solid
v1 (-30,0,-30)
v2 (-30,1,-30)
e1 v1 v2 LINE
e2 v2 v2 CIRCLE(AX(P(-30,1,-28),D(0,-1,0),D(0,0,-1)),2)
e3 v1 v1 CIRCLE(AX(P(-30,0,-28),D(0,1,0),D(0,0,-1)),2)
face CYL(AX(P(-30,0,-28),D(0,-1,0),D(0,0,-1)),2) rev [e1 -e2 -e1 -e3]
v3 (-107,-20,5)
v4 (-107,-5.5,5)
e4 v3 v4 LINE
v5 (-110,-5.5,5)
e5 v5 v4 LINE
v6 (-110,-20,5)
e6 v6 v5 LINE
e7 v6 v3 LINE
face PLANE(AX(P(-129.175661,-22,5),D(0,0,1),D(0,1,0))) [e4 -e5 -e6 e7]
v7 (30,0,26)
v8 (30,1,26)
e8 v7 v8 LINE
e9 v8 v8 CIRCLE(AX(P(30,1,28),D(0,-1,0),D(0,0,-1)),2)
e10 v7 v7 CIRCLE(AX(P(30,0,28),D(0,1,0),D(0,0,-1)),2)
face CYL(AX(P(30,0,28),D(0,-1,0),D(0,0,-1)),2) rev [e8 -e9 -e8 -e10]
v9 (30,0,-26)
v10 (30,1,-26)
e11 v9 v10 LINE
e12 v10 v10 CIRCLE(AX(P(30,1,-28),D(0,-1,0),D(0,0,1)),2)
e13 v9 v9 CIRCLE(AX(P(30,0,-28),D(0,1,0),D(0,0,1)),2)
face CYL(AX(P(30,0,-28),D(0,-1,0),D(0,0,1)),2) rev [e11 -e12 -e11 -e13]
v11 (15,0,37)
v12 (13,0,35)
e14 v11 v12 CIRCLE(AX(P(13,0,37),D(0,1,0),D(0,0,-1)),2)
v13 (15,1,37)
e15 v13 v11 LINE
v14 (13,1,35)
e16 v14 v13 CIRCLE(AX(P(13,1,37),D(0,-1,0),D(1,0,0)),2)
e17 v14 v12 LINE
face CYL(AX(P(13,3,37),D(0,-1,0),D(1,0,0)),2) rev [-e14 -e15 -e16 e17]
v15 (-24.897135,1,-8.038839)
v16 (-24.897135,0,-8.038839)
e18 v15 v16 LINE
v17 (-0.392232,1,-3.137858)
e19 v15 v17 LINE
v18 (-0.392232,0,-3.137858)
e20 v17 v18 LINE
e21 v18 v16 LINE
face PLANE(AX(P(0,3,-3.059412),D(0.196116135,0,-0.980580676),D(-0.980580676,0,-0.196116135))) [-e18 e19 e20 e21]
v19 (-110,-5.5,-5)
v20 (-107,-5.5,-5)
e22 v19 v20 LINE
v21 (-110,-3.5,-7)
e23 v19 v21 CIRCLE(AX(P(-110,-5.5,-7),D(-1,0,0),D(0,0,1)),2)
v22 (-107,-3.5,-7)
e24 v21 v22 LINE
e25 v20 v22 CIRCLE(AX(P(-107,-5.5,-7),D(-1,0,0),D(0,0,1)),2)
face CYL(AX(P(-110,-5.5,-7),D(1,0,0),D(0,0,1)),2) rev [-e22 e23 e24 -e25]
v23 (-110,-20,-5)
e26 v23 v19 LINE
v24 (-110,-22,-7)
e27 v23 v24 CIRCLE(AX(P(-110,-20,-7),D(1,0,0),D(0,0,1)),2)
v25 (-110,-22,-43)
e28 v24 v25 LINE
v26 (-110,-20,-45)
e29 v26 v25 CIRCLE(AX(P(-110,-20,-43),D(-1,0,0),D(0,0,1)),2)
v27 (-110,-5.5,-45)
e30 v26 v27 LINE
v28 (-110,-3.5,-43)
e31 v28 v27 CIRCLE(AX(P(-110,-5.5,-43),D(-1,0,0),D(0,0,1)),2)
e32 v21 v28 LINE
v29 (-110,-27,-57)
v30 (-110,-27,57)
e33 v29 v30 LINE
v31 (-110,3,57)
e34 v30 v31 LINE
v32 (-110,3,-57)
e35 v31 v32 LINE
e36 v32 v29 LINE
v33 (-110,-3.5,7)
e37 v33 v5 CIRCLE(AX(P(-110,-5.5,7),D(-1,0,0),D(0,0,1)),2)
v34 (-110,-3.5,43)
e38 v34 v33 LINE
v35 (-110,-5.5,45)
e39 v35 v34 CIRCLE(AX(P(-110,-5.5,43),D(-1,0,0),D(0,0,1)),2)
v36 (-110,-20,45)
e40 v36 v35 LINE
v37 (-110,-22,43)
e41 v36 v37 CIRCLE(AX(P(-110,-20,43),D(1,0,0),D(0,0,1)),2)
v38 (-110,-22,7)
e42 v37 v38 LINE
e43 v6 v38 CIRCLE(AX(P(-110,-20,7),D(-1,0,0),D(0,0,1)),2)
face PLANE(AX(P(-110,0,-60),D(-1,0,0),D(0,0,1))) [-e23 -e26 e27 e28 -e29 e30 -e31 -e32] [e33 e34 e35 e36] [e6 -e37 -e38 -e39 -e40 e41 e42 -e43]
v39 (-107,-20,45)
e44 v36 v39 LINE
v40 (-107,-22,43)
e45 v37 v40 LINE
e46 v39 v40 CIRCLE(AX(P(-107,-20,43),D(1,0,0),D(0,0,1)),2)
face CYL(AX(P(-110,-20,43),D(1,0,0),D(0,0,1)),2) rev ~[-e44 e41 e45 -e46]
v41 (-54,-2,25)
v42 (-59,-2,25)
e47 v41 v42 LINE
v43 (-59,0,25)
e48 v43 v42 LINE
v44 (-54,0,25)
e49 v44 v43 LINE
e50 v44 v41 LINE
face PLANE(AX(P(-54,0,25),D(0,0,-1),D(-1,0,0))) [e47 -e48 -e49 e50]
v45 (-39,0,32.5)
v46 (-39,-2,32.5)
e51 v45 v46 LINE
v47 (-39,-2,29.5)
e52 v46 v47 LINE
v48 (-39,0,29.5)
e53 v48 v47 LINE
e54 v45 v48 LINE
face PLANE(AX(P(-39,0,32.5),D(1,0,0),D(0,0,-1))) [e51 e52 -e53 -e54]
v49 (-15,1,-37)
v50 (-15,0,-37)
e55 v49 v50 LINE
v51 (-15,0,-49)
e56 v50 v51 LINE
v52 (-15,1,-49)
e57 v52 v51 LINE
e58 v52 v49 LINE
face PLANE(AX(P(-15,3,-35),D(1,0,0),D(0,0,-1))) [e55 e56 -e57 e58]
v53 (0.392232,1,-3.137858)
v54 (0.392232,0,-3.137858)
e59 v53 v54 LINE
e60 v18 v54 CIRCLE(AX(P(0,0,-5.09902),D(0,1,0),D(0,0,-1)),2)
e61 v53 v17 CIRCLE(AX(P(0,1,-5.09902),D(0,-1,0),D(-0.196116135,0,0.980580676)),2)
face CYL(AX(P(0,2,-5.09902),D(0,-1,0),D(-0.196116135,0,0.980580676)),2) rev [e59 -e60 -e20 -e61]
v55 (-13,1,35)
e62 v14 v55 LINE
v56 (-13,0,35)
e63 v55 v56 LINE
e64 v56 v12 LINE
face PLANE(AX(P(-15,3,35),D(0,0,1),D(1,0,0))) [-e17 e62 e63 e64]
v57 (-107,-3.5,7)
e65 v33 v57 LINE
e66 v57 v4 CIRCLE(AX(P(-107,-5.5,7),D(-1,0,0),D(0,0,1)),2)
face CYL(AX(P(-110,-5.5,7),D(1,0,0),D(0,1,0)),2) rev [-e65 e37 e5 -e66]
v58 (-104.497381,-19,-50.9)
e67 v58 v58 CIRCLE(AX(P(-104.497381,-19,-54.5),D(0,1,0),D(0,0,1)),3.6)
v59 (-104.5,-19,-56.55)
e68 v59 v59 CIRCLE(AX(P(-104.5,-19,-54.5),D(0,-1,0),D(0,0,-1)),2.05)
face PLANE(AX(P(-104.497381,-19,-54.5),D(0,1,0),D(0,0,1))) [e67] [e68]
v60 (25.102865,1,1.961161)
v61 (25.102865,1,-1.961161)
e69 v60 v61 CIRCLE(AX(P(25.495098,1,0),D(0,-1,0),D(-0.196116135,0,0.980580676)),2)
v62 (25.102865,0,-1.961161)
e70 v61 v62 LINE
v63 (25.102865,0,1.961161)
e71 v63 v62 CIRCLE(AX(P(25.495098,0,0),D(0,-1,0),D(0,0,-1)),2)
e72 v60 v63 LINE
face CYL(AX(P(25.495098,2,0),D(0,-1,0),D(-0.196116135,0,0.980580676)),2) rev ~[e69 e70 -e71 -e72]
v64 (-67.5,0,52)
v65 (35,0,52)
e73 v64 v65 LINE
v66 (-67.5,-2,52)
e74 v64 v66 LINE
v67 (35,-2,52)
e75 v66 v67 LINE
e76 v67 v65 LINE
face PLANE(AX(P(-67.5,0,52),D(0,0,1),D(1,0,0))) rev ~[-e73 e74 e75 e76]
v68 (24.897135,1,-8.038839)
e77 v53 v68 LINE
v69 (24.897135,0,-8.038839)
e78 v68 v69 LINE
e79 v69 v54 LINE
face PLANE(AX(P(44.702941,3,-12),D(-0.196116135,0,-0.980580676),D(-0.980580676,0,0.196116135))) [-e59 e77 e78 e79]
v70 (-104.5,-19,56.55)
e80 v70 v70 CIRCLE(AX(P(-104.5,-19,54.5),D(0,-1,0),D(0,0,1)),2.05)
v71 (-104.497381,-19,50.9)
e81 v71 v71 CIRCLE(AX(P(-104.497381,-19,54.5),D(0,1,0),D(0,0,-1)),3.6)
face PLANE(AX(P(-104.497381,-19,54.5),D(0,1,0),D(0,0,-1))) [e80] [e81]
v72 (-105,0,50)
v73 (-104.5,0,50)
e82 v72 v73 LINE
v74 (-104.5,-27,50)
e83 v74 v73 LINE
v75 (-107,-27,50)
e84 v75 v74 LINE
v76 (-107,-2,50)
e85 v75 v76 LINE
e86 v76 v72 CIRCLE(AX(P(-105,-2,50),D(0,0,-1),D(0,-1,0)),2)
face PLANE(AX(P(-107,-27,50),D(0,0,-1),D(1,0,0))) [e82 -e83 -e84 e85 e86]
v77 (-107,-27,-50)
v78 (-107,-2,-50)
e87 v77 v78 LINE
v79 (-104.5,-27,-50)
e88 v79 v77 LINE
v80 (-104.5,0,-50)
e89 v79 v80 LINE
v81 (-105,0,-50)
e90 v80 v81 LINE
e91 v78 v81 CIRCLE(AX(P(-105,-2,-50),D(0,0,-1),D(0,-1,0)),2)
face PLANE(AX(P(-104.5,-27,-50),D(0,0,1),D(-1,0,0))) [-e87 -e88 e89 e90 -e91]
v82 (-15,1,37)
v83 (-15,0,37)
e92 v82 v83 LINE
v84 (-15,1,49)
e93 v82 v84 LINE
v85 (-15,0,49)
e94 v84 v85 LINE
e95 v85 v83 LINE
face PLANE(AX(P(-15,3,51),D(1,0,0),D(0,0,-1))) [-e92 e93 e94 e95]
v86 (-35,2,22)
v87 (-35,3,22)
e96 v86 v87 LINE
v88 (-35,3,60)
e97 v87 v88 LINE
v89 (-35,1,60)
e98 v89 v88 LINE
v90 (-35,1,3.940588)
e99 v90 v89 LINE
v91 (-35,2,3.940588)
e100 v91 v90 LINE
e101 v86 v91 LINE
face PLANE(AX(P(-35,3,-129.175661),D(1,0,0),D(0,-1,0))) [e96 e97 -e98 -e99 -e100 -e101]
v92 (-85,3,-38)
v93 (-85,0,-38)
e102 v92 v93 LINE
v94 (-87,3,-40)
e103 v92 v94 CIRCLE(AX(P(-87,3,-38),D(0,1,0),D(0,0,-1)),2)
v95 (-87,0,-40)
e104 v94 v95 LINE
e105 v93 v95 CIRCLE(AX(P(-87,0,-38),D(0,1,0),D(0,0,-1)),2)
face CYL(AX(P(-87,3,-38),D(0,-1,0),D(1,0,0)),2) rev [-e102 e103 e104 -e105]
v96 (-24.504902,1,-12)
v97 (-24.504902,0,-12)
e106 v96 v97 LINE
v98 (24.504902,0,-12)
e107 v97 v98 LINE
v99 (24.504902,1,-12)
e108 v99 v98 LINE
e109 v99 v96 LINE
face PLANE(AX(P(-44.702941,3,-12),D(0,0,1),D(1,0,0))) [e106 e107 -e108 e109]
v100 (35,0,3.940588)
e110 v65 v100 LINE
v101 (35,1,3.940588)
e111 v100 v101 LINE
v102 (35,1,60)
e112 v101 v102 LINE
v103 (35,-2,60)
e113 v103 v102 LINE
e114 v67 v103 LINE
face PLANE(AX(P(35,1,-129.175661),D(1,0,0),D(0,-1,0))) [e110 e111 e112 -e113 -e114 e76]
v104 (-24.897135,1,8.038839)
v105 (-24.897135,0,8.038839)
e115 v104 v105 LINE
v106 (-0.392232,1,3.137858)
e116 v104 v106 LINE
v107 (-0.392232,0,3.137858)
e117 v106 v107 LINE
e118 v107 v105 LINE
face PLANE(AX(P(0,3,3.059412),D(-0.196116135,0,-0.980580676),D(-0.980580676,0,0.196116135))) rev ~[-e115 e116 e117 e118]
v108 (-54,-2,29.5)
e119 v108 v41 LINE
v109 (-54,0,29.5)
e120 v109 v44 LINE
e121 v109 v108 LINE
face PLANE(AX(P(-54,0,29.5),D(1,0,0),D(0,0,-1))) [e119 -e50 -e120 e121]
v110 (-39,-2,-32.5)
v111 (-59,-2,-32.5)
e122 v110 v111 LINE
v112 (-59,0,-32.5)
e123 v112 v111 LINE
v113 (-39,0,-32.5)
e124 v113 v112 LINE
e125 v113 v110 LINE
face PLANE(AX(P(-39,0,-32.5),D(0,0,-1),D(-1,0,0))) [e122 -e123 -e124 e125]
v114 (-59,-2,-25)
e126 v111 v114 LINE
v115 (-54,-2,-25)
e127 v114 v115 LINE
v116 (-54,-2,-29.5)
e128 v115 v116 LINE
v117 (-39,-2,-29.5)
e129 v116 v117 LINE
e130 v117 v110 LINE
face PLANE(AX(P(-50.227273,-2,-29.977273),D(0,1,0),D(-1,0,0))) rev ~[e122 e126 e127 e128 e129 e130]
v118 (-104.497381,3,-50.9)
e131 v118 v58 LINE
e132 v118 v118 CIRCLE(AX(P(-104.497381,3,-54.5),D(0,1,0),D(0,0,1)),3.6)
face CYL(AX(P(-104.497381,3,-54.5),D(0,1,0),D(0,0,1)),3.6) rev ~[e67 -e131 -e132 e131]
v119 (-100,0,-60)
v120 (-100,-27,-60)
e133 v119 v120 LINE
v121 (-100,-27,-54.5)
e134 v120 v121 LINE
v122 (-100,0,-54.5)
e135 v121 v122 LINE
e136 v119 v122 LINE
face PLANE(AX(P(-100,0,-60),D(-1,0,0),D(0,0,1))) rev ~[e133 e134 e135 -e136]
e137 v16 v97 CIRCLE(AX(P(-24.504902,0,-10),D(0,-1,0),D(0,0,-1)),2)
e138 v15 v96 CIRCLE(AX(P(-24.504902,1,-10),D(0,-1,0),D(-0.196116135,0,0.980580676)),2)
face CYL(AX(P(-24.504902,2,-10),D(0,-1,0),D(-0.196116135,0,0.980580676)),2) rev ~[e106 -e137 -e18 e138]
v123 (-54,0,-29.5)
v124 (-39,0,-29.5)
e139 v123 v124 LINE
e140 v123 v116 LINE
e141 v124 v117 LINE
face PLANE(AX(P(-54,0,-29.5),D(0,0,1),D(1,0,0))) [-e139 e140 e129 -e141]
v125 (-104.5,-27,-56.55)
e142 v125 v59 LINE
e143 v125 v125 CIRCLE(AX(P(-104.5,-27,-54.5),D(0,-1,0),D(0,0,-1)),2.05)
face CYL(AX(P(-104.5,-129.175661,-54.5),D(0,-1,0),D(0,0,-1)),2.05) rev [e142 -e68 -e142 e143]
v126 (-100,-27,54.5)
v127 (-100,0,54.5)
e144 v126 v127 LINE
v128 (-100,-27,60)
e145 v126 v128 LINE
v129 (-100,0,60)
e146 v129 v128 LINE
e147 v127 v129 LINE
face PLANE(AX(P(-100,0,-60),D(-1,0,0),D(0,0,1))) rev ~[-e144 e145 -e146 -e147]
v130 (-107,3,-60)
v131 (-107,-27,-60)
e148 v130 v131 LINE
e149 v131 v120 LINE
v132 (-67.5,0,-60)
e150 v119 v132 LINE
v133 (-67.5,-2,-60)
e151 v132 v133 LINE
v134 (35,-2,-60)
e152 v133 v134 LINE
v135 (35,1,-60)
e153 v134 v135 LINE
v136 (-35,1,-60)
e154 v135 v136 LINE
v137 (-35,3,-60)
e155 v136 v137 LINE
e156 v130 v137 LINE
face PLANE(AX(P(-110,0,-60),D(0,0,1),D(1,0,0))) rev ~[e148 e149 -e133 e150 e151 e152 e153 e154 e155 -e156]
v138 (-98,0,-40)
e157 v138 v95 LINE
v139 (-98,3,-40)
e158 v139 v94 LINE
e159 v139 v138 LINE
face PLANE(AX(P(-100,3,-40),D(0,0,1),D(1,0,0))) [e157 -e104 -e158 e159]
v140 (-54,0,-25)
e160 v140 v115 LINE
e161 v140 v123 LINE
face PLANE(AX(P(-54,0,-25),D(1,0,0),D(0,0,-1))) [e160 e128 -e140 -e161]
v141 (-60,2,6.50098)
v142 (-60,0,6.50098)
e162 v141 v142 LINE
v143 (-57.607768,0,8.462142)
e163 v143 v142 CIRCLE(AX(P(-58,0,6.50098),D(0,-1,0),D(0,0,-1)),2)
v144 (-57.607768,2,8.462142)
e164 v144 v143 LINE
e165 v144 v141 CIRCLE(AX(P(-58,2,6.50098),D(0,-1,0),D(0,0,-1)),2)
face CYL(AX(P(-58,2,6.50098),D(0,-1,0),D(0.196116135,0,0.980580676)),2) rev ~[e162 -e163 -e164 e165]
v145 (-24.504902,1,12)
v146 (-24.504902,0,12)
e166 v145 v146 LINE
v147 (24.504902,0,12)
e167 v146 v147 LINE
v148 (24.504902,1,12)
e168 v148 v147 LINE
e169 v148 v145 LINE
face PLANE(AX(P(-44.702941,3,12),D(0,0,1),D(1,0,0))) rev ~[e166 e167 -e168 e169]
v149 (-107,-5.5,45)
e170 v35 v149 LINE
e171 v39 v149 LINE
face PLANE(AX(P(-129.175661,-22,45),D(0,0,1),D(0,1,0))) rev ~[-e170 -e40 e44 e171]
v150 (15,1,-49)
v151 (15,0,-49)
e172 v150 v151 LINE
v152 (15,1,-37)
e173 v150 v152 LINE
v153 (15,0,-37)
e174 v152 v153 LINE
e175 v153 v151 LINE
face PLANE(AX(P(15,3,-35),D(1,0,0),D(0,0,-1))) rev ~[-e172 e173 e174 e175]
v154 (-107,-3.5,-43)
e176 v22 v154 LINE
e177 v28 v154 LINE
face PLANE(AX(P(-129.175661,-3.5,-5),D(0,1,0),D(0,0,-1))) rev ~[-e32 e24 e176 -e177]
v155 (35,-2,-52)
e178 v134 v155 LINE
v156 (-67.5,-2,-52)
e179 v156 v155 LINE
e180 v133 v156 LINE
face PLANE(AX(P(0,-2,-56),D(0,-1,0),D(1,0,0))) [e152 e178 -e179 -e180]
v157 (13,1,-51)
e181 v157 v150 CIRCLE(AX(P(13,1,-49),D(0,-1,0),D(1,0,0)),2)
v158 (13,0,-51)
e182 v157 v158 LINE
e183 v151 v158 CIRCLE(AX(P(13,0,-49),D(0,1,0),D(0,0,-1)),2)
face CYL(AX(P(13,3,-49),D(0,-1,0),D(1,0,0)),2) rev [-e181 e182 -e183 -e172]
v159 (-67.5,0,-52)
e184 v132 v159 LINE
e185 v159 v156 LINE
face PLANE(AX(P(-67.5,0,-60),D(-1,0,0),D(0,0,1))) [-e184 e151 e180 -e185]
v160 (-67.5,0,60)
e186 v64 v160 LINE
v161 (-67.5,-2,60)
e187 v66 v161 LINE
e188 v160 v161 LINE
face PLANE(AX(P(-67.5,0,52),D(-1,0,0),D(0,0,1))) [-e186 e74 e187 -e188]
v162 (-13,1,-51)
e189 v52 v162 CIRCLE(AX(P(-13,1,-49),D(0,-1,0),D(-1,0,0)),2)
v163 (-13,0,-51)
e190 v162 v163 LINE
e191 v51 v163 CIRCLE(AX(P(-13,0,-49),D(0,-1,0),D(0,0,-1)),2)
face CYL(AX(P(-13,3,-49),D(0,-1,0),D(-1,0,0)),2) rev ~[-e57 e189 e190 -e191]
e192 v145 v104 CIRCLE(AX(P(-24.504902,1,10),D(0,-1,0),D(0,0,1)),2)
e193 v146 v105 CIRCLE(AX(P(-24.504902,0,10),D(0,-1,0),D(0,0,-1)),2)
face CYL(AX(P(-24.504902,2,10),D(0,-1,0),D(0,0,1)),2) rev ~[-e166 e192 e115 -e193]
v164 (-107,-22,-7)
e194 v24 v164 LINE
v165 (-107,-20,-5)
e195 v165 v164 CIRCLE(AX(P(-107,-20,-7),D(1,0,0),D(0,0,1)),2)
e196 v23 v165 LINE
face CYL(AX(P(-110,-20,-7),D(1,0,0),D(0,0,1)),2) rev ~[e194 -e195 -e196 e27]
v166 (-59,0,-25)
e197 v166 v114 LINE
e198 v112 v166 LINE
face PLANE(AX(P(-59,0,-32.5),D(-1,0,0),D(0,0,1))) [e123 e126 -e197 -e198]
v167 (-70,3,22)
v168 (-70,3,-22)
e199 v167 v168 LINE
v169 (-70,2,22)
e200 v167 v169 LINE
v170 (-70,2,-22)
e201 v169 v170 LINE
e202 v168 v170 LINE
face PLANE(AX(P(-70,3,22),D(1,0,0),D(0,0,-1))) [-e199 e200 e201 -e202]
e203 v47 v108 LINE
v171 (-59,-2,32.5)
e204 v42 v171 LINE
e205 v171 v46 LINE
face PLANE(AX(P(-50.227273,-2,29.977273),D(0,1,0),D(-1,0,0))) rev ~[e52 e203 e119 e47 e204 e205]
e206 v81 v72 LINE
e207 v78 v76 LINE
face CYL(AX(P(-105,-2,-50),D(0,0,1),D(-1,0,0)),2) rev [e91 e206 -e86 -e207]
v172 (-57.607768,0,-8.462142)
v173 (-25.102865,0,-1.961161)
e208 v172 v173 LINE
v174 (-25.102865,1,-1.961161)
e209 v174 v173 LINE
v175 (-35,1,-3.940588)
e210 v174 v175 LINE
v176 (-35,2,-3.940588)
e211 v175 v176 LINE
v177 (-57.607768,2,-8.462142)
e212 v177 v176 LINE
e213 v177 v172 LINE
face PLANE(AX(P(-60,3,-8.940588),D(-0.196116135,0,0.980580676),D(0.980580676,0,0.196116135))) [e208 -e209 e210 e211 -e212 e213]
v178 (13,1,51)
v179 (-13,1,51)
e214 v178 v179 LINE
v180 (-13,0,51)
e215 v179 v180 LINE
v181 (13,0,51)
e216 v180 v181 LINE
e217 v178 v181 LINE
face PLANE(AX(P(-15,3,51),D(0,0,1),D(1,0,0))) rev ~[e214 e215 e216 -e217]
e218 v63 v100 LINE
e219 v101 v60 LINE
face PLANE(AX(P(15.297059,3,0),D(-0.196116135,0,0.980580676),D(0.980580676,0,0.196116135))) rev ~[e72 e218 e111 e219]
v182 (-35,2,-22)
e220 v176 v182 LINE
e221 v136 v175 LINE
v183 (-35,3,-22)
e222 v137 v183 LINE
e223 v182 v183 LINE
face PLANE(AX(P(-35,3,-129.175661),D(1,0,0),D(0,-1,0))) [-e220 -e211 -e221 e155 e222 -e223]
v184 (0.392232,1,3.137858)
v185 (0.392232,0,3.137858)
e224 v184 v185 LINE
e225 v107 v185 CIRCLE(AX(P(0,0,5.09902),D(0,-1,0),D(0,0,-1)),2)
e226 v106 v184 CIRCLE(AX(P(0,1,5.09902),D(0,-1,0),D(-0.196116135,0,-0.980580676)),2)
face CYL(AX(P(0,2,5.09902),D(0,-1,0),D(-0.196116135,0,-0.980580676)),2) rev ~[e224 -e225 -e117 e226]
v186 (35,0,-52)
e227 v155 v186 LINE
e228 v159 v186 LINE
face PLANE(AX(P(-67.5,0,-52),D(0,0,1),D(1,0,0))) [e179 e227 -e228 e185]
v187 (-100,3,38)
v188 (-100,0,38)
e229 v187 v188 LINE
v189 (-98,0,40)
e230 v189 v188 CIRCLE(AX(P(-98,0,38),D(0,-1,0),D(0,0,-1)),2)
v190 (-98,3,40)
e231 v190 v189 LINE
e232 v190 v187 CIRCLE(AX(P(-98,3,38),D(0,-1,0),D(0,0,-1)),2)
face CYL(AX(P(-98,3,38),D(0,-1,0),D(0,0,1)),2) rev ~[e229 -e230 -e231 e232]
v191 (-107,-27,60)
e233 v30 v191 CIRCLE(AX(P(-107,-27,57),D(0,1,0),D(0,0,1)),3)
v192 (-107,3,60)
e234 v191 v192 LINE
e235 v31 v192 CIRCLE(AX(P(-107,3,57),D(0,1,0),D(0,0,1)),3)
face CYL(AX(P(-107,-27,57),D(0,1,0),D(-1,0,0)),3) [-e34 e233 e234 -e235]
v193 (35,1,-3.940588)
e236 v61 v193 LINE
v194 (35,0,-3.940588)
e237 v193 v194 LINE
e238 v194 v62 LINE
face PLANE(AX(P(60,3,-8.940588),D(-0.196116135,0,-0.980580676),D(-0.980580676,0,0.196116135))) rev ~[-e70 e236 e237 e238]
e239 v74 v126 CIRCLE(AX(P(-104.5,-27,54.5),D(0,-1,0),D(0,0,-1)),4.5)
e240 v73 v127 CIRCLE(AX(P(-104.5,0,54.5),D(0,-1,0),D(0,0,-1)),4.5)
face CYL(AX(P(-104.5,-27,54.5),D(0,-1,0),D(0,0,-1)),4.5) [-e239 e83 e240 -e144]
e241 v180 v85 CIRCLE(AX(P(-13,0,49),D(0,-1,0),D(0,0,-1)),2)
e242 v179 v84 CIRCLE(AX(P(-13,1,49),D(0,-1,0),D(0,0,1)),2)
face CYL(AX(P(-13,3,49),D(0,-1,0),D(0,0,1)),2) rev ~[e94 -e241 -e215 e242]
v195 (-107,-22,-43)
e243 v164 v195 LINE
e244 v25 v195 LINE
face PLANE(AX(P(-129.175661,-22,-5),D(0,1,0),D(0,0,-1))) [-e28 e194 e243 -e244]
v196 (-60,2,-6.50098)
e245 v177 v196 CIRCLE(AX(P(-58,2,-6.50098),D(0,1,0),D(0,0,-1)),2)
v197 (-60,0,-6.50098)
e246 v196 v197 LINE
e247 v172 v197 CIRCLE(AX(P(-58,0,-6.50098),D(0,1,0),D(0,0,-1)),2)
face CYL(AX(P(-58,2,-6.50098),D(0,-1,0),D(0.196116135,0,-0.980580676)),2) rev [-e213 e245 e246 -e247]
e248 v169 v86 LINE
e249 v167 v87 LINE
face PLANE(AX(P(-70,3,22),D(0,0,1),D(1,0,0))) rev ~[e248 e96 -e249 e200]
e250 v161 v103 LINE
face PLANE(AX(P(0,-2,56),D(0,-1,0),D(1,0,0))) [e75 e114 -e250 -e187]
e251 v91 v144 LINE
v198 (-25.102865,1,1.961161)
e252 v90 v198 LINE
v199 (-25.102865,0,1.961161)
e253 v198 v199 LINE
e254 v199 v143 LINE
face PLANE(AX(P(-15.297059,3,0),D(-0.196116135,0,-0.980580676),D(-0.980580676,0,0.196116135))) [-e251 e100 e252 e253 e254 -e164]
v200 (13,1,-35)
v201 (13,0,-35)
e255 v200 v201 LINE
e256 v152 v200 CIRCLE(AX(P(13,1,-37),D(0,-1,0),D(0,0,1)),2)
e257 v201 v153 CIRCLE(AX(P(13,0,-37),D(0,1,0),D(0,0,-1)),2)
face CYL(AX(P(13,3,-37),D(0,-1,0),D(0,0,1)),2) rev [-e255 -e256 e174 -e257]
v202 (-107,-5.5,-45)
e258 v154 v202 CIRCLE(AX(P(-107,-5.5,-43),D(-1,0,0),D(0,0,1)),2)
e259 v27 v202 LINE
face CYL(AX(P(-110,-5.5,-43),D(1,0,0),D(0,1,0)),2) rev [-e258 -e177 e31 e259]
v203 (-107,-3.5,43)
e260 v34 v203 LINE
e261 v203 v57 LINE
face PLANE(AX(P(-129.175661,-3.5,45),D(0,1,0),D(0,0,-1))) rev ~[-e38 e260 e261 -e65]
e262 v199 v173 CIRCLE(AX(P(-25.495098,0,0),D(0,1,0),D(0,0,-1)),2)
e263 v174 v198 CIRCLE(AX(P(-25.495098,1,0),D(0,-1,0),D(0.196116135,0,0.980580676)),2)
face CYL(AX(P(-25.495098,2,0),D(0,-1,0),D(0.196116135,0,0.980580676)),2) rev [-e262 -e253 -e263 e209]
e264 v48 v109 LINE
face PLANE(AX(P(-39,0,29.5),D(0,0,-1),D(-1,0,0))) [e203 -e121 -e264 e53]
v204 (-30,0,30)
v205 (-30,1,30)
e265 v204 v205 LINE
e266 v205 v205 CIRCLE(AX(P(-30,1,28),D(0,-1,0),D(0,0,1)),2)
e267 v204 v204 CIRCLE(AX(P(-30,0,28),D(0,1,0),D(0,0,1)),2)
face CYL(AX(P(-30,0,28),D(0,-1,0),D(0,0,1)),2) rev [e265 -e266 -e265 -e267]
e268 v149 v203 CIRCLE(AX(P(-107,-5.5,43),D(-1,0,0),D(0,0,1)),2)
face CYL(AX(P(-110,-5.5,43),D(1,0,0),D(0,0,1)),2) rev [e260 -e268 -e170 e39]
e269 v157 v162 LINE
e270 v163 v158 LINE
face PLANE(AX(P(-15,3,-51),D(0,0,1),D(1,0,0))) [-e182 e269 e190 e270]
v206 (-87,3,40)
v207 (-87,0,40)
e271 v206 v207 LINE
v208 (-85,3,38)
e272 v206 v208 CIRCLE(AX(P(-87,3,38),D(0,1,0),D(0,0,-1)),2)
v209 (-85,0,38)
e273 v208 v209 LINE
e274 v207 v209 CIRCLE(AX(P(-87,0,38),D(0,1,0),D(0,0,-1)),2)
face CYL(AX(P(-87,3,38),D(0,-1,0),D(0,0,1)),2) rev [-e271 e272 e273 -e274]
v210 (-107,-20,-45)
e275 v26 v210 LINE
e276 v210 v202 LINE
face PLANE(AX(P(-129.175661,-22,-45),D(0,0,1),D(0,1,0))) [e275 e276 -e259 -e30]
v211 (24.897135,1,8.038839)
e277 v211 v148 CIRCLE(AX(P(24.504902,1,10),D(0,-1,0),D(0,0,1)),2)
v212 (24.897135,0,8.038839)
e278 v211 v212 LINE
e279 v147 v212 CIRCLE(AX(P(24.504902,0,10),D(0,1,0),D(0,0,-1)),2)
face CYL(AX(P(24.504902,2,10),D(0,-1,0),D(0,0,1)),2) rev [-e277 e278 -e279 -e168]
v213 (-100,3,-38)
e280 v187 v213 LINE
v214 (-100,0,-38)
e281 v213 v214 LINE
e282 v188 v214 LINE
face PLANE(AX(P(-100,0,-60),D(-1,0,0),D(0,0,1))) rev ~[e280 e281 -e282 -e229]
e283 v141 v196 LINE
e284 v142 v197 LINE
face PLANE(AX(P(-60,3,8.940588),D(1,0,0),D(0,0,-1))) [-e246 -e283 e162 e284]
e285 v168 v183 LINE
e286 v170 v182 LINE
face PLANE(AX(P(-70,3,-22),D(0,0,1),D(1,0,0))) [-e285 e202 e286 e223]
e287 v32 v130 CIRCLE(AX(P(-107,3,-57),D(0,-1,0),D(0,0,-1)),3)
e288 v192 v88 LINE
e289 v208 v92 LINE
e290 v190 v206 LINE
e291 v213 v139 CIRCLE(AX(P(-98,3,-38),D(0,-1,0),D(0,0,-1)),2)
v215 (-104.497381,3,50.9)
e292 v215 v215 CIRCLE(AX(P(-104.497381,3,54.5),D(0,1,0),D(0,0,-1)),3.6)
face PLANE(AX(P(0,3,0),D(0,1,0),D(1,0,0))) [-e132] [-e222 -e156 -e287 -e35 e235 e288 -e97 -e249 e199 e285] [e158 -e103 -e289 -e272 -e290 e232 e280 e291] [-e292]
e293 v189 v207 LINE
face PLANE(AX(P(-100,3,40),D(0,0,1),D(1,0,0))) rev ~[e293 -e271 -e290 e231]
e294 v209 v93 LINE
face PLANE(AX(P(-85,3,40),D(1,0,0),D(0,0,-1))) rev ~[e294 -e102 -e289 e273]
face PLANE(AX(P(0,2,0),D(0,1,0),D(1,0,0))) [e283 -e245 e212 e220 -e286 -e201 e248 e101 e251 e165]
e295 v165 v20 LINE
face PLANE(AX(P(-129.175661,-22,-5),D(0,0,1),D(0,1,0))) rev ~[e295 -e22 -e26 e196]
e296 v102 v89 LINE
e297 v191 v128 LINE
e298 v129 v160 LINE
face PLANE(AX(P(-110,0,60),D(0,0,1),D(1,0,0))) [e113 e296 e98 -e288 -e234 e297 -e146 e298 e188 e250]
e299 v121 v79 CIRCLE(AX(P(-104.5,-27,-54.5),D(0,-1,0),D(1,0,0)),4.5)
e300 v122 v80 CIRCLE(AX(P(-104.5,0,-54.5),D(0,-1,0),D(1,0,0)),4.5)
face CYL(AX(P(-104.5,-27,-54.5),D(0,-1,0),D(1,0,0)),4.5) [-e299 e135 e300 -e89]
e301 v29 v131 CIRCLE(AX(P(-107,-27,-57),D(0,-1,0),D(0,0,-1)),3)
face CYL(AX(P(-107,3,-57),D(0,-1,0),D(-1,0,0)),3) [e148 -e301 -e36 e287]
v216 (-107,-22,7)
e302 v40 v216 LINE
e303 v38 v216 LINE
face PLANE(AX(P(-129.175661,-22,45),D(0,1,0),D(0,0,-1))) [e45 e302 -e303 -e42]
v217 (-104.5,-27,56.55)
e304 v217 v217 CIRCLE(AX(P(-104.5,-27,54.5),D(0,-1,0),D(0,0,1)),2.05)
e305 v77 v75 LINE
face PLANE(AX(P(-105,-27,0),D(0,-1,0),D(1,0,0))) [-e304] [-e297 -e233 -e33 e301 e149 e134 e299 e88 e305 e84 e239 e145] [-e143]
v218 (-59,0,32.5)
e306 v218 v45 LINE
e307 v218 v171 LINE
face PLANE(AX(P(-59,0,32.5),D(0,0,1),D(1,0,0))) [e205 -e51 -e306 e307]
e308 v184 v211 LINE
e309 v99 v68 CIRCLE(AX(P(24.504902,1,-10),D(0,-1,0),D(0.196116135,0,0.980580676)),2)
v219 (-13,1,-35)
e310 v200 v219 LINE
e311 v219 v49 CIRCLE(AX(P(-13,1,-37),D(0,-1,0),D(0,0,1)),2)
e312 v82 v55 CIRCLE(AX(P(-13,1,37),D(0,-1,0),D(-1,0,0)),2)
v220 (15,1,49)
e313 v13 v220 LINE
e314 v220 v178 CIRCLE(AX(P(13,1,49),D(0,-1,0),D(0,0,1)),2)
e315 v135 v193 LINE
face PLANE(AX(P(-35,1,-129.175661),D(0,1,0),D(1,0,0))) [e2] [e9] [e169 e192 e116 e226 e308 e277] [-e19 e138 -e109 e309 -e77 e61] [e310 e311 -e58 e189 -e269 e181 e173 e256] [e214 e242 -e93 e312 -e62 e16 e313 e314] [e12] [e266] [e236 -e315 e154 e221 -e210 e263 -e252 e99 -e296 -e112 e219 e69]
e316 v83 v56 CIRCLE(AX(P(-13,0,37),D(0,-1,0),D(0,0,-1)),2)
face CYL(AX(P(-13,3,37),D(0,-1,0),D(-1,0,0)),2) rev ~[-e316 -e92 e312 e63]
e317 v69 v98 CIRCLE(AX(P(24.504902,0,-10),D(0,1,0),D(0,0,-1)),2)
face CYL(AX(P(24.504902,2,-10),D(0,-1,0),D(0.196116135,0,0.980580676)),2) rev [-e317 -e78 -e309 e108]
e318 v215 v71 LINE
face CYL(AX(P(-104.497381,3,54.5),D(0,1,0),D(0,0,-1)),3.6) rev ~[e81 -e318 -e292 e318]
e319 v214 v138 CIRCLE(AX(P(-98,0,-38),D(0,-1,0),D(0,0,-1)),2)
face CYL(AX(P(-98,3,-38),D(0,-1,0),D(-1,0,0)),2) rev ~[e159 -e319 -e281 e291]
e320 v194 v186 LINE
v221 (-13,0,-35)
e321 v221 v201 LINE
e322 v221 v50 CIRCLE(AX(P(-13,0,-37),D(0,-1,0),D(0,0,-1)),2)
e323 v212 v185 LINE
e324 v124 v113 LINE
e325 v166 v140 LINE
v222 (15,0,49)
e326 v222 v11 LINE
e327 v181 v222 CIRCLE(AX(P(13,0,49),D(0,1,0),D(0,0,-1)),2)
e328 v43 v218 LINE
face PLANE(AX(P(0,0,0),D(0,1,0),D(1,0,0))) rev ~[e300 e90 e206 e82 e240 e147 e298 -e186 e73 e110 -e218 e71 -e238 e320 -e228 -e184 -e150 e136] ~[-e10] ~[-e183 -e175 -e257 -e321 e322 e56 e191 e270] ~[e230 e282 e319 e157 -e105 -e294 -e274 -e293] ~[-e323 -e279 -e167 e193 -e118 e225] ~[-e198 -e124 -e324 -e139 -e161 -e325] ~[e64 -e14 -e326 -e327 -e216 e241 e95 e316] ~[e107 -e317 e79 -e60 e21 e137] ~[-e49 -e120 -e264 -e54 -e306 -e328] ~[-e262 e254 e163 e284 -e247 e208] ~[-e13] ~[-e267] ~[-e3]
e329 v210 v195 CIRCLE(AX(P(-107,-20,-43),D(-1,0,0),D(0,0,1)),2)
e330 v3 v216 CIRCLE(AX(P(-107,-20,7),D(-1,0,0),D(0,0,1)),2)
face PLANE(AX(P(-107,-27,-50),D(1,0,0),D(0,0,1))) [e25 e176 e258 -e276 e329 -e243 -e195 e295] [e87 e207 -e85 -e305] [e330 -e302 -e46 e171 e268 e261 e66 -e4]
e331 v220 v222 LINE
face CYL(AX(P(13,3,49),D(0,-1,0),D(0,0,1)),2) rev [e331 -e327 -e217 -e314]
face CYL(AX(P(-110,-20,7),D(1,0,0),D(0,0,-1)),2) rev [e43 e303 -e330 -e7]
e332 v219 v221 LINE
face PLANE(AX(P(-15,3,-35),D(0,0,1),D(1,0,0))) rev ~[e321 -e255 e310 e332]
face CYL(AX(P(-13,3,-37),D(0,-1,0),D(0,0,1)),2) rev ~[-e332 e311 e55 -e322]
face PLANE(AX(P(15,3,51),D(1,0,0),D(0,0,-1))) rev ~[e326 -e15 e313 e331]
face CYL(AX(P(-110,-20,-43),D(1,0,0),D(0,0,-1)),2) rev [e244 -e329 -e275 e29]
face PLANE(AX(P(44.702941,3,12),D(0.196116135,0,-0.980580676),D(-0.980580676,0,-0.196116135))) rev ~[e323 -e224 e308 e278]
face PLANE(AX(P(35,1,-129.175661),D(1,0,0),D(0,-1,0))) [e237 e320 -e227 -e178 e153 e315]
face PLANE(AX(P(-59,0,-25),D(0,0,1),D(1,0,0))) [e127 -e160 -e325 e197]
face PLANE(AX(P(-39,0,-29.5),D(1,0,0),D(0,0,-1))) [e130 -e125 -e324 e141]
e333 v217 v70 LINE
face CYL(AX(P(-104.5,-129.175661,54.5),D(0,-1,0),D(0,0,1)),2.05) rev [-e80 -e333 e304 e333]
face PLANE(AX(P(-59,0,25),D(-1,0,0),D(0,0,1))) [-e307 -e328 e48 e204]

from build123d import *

# Parameters (mm, degrees)
SKETCH_8_W                = 220
SKETCH_8_H                = 120
EXTRUDE_6_DEPTH           = 3
SKETCH_10_W               = 10
SKETCH_10_H               = 120
EXTRUDE_7_DEPTH           = 27
CUT_EXTRUDE_1_DEPTH       = 129.175660716
CUT_EXTRUDE_1_DEPTH_BACK  = 129.175660716
SKETCH_9_R                = 2.05
SKETCH_11_R               = 3.6
CUT_EXTRUDE_2_DEPTH       = 22
CUT_EXTRUDE_4_DEPTH       = 129.175660716
CUT_EXTRUDE_4_DEPTH_BACK  = 129.175660716
SKETCH_13_W               = 40
SKETCH_13_H               = 18.5
SKETCH_14_W               = 140
SKETCH_14_H               = 44
CUT_EXTRUDE_7_DEPTH       = 1
SKETCH_15_W               = 15
SKETCH_15_H               = 80
SKETCH_15_H_2             = 40
SKETCH_15_W_2             = 30
SKETCH_15_H_3             = 16
CUT_EXTRUDE_8_DEPTH       = 129.840987267
SKETCH_9_5_R              = 2
CUT_EXTRUDE_9_DEPTH       = 129.175660716
CUT_EXTRUDE_13_DEPTH      = 27
SKETCH_20_W               = 135
SKETCH_20_H               = 8
EXTRUDE_8_DEPTH           = 2
FILLET_1_R                = 3
FILLET_2_R                = 2
CUT_EXTRUDE_14_DEPTH      = 129.175660716
CUT_EXTRUDE_14_DEPTH_BACK = 129.175660716


with BuildPart() as part:
    # 草圖8 → 填料-伸長6 (new body)
    with BuildSketch(Plane(origin=(0, 0, 0), x_dir=(1, 0, 0), z_dir=(0, 1, 0))):
        Rectangle(SKETCH_8_W, SKETCH_8_H)
    extrude(amount=EXTRUDE_6_DEPTH)

    # 草圖10 → 填料-伸長7 (add)
    with BuildSketch(Plane.XZ):
        with Locations((-105, 0)):
            Rectangle(SKETCH_10_W, SKETCH_10_H)
        with Locations((105, 0)):
            Rectangle(SKETCH_10_W, SKETCH_10_H)
    extrude(amount=EXTRUDE_7_DEPTH)

    # 草圖9 → 除料-伸長1 (cut, two sides: drawn at the far end of the back side and taken through both)
    with BuildSketch(Plane(origin=(0, 0, 0), x_dir=(1, 0, 0), z_dir=(0, 1, 0)).offset(-CUT_EXTRUDE_1_DEPTH_BACK)):
        with Locations((104.5, 54.5)):
            Circle(SKETCH_9_R)
        with Locations((-104.5, 54.5)):
            Circle(SKETCH_9_R)
        with Locations((-104.5, -54.5)):
            Circle(SKETCH_9_R)
        with Locations((104.5, -54.5)):
            Circle(SKETCH_9_R)
    extrude(amount=CUT_EXTRUDE_1_DEPTH + CUT_EXTRUDE_1_DEPTH_BACK, mode=Mode.SUBTRACT)

    # 草圖11 → 除料-伸長2 (cut)
    with BuildSketch(Plane(origin=(0, 3, 0), x_dir=(1, 0, 0), z_dir=(0, 1, 0))):
        with Locations((-104.497380754, 54.5)):
            Circle(SKETCH_11_R)
        with Locations((-104.497380754, -54.5)):
            Circle(SKETCH_11_R)
        with Locations((104.5, -54.5)):
            Circle(SKETCH_11_R)
        with Locations((104.5, 54.5)):
            Circle(SKETCH_11_R)
    extrude(amount=-CUT_EXTRUDE_2_DEPTH, mode=Mode.SUBTRACT)

    # 草圖13 → 除料-伸長4 (cut, two sides: drawn at the far end of the back side and taken through both)
    with BuildSketch(Plane(origin=(0, 0, 0), x_dir=(0, 0, -1), z_dir=(1, 0, 0)).offset(-CUT_EXTRUDE_4_DEPTH_BACK)):
        with Locations((-25, -12.75)):
            Rectangle(SKETCH_13_W, SKETCH_13_H)
        with Locations((25, -12.75)):
            Rectangle(SKETCH_13_W, SKETCH_13_H)
    extrude(amount=CUT_EXTRUDE_4_DEPTH + CUT_EXTRUDE_4_DEPTH_BACK, mode=Mode.SUBTRACT)

    # 草圖14 → 除料-伸長7 (cut)
    with BuildSketch(Plane(origin=(0, 3, 0), x_dir=(1, 0, 0), z_dir=(0, 1, 0))):
        Rectangle(SKETCH_14_W, SKETCH_14_H)
    extrude(amount=-CUT_EXTRUDE_7_DEPTH, mode=Mode.SUBTRACT)

    # 草圖15 → 除料-伸長8 (cut, through all)
    with BuildSketch(Plane(origin=(0, 3, 0), x_dir=(1, 0, 0), z_dir=(0, 1, 0))):
        with Locations((-92.5, 0)):
            Rectangle(SKETCH_15_W, SKETCH_15_H)
        with Locations((92.5, 25)):
            Rectangle(SKETCH_15_W, SKETCH_15_H_2)
        Polygon((-44.702941459, -12), (44.702941459, -12), (0, -3.059411708), align=None)
        Polygon((-60, -8.940588292), (-60, 8.940588292), (-15.297058541, 0), align=None)
        Polygon((-44.702941459, 12), (44.702941459, 12), (0, 3.059411708), align=None)
        Polygon((60, -8.940588292), (60, 8.940588292), (15.297058541, 0), align=None)
        with Locations((0, -43)):
            Rectangle(SKETCH_15_W_2, SKETCH_15_H_3)
        with Locations((0, 43)):
            Rectangle(SKETCH_15_W_2, SKETCH_15_H_3)
        with Locations((92.5, -25)):
            Rectangle(SKETCH_15_W, SKETCH_15_H_2)
    extrude(amount=-CUT_EXTRUDE_8_DEPTH, mode=Mode.SUBTRACT)

    # 草圖9<5> → 除料-伸長9 (cut, through all)
    with BuildSketch(Plane(origin=(0, 0, 0), x_dir=(1, 0, 0), z_dir=(0, 1, 0))):
        with Locations((30, 28)):
            Circle(SKETCH_9_5_R)
        with Locations((-30, 28)):
            Circle(SKETCH_9_5_R)
        with Locations((30, -28)):
            Circle(SKETCH_9_5_R)
        with Locations((-30, -28)):
            Circle(SKETCH_9_5_R)
    extrude(amount=CUT_EXTRUDE_9_DEPTH, mode=Mode.SUBTRACT)

    # 草圖19 → 除料-伸長13 (cut)
    with BuildSketch(Plane.XZ.offset(27)):
        with BuildLine():
            Line((-100, 54.5), (-100, -54.5))
            ThreePointArc((-100, -54.5), (-101.318019485, -51.318019485), (-104.5, -50))
            Line((-104.5, -50), (-107, -50))
            Line((-107, -50), (-107, 50))
            Line((-107, 50), (-104.5, 50))
            ThreePointArc((-104.5, 50), (-101.318019485, 51.318019485), (-100, 54.5))
        make_face()
        with BuildLine():
            Line((100, 54.5), (100, -54.5))
            ThreePointArc((100, -54.5), (101.318019485, -51.318019485), (104.5, -50))
            Line((104.5, -50), (107, -50))
            Line((107, -50), (107, 50))
            Line((107, 50), (104.5, 50))
            ThreePointArc((104.5, 50), (101.318019485, 51.318019485), (100, 54.5))
        make_face()
    extrude(amount=-CUT_EXTRUDE_13_DEPTH, mode=Mode.SUBTRACT)

    # 草圖20 → 填料-伸長8 (add)
    with BuildSketch(Plane.XZ):
        with Locations((0, 56)):
            Rectangle(SKETCH_20_W, SKETCH_20_H)
        with Locations((0, -56)):
            Rectangle(SKETCH_20_W, SKETCH_20_H)
        Polygon((-59, 32.5), (-39, 32.5), (-39, 29.5), (-54, 29.5), (-54, 25), (-59, 25), align=None)
        Polygon((54, 29.5), (39, 29.5), (39, 32.5), (59, 32.5), (59, 25), (54, 25), align=None)
        Polygon((59, -32.5), (39, -32.5), (39, -29.5), (54, -29.5), (54, -25), (59, -25), align=None)
        Polygon((-54, -29.5), (-39, -29.5), (-39, -32.5), (-59, -32.5), (-59, -25), (-54, -25), align=None)
    extrude(amount=EXTRUDE_8_DEPTH)

    # 圓角1
    fillet_1_edges = [part.edges().sort_by_distance(p)[0] for p in [
        (-110, -12, 60),
        (-110, -12, -60),
        (110, -12, -60),
        (110, -12, 60),
    ]]
    fillet(fillet_1_edges, radius=FILLET_1_R)

    # 圓角2
    fillet_2_edges = [part.edges().sort_by_distance(p)[0] for p in [
        (-107, 0, 0),
        (107, 0, 0),
        (108.5, -3.5, -5),
        (108.5, -3.5, 45),
        (108.5, -22, 45),
        (108.5, -22, -5),
        (108.5, -3.5, -45),
        (108.5, -3.5, 5),
        (108.5, -22, 5),
        (108.5, -22, -45),
        (-108.5, -22, -45),
        (-108.5, -22, 5),
        (-108.5, -3.5, -45),
        (-108.5, -3.5, 5),
        (-108.5, -22, 45),
        (-108.5, -3.5, 45),
        (-108.5, -3.5, -5),
        (-108.5, -22, -5),
        (60, 1, -8.940588292),
        (44.702941459, 1, -12),
        (-44.702941459, 1, -12),
        (0, 1, 3.059411708),
        (-44.702941459, 1, 12),
        (44.702941459, 1, 12),
        (-15.297058541, 1, 0),
        (0, 1, -3.059411708),
        (60, 1, 8.940588292),
        (100, 1.5, -5),
        (15, 1.5, -35),
        (100, 1.5, 45),
        (15, 1.5, 51),
        (-85, 1.5, 40),
        (-15, 1.5, 51),
        (85, 1.5, -5),
        (15.297058541, 1, 0),
        (-100, 1.5, 40),
        (-15, 1.5, -35),
        (-60, 1, 8.940588292),
        (-60, 1, -8.940588292),
        (15, 1.5, 35),
        (-15, 1.5, 35),
        (85, 1.5, 5),
        (85, 1.5, -45),
        (100, 1.5, 5),
        (100, 1.5, -45),
        (15, 1.5, -51),
        (-15, 1.5, -51),
        (-85, 1.5, -40),
        (-100, 1.5, -40),
    ]]
    fillet(fillet_2_edges, radius=FILLET_2_R)

    # 草圖21 → 除料-伸長14 (cut, two sides: drawn at the far end of the back side and taken through both)
    with BuildSketch(Plane.XY.offset(-CUT_EXTRUDE_14_DEPTH_BACK)):
        Polygon((110, 3), (-35, 3), (-35, 1), (35, 1), (35, -27), (110, -27), align=None)
    extrude(amount=CUT_EXTRUDE_14_DEPTH + CUT_EXTRUDE_14_DEPTH_BACK, mode=Mode.SUBTRACT)


solid = part.part
